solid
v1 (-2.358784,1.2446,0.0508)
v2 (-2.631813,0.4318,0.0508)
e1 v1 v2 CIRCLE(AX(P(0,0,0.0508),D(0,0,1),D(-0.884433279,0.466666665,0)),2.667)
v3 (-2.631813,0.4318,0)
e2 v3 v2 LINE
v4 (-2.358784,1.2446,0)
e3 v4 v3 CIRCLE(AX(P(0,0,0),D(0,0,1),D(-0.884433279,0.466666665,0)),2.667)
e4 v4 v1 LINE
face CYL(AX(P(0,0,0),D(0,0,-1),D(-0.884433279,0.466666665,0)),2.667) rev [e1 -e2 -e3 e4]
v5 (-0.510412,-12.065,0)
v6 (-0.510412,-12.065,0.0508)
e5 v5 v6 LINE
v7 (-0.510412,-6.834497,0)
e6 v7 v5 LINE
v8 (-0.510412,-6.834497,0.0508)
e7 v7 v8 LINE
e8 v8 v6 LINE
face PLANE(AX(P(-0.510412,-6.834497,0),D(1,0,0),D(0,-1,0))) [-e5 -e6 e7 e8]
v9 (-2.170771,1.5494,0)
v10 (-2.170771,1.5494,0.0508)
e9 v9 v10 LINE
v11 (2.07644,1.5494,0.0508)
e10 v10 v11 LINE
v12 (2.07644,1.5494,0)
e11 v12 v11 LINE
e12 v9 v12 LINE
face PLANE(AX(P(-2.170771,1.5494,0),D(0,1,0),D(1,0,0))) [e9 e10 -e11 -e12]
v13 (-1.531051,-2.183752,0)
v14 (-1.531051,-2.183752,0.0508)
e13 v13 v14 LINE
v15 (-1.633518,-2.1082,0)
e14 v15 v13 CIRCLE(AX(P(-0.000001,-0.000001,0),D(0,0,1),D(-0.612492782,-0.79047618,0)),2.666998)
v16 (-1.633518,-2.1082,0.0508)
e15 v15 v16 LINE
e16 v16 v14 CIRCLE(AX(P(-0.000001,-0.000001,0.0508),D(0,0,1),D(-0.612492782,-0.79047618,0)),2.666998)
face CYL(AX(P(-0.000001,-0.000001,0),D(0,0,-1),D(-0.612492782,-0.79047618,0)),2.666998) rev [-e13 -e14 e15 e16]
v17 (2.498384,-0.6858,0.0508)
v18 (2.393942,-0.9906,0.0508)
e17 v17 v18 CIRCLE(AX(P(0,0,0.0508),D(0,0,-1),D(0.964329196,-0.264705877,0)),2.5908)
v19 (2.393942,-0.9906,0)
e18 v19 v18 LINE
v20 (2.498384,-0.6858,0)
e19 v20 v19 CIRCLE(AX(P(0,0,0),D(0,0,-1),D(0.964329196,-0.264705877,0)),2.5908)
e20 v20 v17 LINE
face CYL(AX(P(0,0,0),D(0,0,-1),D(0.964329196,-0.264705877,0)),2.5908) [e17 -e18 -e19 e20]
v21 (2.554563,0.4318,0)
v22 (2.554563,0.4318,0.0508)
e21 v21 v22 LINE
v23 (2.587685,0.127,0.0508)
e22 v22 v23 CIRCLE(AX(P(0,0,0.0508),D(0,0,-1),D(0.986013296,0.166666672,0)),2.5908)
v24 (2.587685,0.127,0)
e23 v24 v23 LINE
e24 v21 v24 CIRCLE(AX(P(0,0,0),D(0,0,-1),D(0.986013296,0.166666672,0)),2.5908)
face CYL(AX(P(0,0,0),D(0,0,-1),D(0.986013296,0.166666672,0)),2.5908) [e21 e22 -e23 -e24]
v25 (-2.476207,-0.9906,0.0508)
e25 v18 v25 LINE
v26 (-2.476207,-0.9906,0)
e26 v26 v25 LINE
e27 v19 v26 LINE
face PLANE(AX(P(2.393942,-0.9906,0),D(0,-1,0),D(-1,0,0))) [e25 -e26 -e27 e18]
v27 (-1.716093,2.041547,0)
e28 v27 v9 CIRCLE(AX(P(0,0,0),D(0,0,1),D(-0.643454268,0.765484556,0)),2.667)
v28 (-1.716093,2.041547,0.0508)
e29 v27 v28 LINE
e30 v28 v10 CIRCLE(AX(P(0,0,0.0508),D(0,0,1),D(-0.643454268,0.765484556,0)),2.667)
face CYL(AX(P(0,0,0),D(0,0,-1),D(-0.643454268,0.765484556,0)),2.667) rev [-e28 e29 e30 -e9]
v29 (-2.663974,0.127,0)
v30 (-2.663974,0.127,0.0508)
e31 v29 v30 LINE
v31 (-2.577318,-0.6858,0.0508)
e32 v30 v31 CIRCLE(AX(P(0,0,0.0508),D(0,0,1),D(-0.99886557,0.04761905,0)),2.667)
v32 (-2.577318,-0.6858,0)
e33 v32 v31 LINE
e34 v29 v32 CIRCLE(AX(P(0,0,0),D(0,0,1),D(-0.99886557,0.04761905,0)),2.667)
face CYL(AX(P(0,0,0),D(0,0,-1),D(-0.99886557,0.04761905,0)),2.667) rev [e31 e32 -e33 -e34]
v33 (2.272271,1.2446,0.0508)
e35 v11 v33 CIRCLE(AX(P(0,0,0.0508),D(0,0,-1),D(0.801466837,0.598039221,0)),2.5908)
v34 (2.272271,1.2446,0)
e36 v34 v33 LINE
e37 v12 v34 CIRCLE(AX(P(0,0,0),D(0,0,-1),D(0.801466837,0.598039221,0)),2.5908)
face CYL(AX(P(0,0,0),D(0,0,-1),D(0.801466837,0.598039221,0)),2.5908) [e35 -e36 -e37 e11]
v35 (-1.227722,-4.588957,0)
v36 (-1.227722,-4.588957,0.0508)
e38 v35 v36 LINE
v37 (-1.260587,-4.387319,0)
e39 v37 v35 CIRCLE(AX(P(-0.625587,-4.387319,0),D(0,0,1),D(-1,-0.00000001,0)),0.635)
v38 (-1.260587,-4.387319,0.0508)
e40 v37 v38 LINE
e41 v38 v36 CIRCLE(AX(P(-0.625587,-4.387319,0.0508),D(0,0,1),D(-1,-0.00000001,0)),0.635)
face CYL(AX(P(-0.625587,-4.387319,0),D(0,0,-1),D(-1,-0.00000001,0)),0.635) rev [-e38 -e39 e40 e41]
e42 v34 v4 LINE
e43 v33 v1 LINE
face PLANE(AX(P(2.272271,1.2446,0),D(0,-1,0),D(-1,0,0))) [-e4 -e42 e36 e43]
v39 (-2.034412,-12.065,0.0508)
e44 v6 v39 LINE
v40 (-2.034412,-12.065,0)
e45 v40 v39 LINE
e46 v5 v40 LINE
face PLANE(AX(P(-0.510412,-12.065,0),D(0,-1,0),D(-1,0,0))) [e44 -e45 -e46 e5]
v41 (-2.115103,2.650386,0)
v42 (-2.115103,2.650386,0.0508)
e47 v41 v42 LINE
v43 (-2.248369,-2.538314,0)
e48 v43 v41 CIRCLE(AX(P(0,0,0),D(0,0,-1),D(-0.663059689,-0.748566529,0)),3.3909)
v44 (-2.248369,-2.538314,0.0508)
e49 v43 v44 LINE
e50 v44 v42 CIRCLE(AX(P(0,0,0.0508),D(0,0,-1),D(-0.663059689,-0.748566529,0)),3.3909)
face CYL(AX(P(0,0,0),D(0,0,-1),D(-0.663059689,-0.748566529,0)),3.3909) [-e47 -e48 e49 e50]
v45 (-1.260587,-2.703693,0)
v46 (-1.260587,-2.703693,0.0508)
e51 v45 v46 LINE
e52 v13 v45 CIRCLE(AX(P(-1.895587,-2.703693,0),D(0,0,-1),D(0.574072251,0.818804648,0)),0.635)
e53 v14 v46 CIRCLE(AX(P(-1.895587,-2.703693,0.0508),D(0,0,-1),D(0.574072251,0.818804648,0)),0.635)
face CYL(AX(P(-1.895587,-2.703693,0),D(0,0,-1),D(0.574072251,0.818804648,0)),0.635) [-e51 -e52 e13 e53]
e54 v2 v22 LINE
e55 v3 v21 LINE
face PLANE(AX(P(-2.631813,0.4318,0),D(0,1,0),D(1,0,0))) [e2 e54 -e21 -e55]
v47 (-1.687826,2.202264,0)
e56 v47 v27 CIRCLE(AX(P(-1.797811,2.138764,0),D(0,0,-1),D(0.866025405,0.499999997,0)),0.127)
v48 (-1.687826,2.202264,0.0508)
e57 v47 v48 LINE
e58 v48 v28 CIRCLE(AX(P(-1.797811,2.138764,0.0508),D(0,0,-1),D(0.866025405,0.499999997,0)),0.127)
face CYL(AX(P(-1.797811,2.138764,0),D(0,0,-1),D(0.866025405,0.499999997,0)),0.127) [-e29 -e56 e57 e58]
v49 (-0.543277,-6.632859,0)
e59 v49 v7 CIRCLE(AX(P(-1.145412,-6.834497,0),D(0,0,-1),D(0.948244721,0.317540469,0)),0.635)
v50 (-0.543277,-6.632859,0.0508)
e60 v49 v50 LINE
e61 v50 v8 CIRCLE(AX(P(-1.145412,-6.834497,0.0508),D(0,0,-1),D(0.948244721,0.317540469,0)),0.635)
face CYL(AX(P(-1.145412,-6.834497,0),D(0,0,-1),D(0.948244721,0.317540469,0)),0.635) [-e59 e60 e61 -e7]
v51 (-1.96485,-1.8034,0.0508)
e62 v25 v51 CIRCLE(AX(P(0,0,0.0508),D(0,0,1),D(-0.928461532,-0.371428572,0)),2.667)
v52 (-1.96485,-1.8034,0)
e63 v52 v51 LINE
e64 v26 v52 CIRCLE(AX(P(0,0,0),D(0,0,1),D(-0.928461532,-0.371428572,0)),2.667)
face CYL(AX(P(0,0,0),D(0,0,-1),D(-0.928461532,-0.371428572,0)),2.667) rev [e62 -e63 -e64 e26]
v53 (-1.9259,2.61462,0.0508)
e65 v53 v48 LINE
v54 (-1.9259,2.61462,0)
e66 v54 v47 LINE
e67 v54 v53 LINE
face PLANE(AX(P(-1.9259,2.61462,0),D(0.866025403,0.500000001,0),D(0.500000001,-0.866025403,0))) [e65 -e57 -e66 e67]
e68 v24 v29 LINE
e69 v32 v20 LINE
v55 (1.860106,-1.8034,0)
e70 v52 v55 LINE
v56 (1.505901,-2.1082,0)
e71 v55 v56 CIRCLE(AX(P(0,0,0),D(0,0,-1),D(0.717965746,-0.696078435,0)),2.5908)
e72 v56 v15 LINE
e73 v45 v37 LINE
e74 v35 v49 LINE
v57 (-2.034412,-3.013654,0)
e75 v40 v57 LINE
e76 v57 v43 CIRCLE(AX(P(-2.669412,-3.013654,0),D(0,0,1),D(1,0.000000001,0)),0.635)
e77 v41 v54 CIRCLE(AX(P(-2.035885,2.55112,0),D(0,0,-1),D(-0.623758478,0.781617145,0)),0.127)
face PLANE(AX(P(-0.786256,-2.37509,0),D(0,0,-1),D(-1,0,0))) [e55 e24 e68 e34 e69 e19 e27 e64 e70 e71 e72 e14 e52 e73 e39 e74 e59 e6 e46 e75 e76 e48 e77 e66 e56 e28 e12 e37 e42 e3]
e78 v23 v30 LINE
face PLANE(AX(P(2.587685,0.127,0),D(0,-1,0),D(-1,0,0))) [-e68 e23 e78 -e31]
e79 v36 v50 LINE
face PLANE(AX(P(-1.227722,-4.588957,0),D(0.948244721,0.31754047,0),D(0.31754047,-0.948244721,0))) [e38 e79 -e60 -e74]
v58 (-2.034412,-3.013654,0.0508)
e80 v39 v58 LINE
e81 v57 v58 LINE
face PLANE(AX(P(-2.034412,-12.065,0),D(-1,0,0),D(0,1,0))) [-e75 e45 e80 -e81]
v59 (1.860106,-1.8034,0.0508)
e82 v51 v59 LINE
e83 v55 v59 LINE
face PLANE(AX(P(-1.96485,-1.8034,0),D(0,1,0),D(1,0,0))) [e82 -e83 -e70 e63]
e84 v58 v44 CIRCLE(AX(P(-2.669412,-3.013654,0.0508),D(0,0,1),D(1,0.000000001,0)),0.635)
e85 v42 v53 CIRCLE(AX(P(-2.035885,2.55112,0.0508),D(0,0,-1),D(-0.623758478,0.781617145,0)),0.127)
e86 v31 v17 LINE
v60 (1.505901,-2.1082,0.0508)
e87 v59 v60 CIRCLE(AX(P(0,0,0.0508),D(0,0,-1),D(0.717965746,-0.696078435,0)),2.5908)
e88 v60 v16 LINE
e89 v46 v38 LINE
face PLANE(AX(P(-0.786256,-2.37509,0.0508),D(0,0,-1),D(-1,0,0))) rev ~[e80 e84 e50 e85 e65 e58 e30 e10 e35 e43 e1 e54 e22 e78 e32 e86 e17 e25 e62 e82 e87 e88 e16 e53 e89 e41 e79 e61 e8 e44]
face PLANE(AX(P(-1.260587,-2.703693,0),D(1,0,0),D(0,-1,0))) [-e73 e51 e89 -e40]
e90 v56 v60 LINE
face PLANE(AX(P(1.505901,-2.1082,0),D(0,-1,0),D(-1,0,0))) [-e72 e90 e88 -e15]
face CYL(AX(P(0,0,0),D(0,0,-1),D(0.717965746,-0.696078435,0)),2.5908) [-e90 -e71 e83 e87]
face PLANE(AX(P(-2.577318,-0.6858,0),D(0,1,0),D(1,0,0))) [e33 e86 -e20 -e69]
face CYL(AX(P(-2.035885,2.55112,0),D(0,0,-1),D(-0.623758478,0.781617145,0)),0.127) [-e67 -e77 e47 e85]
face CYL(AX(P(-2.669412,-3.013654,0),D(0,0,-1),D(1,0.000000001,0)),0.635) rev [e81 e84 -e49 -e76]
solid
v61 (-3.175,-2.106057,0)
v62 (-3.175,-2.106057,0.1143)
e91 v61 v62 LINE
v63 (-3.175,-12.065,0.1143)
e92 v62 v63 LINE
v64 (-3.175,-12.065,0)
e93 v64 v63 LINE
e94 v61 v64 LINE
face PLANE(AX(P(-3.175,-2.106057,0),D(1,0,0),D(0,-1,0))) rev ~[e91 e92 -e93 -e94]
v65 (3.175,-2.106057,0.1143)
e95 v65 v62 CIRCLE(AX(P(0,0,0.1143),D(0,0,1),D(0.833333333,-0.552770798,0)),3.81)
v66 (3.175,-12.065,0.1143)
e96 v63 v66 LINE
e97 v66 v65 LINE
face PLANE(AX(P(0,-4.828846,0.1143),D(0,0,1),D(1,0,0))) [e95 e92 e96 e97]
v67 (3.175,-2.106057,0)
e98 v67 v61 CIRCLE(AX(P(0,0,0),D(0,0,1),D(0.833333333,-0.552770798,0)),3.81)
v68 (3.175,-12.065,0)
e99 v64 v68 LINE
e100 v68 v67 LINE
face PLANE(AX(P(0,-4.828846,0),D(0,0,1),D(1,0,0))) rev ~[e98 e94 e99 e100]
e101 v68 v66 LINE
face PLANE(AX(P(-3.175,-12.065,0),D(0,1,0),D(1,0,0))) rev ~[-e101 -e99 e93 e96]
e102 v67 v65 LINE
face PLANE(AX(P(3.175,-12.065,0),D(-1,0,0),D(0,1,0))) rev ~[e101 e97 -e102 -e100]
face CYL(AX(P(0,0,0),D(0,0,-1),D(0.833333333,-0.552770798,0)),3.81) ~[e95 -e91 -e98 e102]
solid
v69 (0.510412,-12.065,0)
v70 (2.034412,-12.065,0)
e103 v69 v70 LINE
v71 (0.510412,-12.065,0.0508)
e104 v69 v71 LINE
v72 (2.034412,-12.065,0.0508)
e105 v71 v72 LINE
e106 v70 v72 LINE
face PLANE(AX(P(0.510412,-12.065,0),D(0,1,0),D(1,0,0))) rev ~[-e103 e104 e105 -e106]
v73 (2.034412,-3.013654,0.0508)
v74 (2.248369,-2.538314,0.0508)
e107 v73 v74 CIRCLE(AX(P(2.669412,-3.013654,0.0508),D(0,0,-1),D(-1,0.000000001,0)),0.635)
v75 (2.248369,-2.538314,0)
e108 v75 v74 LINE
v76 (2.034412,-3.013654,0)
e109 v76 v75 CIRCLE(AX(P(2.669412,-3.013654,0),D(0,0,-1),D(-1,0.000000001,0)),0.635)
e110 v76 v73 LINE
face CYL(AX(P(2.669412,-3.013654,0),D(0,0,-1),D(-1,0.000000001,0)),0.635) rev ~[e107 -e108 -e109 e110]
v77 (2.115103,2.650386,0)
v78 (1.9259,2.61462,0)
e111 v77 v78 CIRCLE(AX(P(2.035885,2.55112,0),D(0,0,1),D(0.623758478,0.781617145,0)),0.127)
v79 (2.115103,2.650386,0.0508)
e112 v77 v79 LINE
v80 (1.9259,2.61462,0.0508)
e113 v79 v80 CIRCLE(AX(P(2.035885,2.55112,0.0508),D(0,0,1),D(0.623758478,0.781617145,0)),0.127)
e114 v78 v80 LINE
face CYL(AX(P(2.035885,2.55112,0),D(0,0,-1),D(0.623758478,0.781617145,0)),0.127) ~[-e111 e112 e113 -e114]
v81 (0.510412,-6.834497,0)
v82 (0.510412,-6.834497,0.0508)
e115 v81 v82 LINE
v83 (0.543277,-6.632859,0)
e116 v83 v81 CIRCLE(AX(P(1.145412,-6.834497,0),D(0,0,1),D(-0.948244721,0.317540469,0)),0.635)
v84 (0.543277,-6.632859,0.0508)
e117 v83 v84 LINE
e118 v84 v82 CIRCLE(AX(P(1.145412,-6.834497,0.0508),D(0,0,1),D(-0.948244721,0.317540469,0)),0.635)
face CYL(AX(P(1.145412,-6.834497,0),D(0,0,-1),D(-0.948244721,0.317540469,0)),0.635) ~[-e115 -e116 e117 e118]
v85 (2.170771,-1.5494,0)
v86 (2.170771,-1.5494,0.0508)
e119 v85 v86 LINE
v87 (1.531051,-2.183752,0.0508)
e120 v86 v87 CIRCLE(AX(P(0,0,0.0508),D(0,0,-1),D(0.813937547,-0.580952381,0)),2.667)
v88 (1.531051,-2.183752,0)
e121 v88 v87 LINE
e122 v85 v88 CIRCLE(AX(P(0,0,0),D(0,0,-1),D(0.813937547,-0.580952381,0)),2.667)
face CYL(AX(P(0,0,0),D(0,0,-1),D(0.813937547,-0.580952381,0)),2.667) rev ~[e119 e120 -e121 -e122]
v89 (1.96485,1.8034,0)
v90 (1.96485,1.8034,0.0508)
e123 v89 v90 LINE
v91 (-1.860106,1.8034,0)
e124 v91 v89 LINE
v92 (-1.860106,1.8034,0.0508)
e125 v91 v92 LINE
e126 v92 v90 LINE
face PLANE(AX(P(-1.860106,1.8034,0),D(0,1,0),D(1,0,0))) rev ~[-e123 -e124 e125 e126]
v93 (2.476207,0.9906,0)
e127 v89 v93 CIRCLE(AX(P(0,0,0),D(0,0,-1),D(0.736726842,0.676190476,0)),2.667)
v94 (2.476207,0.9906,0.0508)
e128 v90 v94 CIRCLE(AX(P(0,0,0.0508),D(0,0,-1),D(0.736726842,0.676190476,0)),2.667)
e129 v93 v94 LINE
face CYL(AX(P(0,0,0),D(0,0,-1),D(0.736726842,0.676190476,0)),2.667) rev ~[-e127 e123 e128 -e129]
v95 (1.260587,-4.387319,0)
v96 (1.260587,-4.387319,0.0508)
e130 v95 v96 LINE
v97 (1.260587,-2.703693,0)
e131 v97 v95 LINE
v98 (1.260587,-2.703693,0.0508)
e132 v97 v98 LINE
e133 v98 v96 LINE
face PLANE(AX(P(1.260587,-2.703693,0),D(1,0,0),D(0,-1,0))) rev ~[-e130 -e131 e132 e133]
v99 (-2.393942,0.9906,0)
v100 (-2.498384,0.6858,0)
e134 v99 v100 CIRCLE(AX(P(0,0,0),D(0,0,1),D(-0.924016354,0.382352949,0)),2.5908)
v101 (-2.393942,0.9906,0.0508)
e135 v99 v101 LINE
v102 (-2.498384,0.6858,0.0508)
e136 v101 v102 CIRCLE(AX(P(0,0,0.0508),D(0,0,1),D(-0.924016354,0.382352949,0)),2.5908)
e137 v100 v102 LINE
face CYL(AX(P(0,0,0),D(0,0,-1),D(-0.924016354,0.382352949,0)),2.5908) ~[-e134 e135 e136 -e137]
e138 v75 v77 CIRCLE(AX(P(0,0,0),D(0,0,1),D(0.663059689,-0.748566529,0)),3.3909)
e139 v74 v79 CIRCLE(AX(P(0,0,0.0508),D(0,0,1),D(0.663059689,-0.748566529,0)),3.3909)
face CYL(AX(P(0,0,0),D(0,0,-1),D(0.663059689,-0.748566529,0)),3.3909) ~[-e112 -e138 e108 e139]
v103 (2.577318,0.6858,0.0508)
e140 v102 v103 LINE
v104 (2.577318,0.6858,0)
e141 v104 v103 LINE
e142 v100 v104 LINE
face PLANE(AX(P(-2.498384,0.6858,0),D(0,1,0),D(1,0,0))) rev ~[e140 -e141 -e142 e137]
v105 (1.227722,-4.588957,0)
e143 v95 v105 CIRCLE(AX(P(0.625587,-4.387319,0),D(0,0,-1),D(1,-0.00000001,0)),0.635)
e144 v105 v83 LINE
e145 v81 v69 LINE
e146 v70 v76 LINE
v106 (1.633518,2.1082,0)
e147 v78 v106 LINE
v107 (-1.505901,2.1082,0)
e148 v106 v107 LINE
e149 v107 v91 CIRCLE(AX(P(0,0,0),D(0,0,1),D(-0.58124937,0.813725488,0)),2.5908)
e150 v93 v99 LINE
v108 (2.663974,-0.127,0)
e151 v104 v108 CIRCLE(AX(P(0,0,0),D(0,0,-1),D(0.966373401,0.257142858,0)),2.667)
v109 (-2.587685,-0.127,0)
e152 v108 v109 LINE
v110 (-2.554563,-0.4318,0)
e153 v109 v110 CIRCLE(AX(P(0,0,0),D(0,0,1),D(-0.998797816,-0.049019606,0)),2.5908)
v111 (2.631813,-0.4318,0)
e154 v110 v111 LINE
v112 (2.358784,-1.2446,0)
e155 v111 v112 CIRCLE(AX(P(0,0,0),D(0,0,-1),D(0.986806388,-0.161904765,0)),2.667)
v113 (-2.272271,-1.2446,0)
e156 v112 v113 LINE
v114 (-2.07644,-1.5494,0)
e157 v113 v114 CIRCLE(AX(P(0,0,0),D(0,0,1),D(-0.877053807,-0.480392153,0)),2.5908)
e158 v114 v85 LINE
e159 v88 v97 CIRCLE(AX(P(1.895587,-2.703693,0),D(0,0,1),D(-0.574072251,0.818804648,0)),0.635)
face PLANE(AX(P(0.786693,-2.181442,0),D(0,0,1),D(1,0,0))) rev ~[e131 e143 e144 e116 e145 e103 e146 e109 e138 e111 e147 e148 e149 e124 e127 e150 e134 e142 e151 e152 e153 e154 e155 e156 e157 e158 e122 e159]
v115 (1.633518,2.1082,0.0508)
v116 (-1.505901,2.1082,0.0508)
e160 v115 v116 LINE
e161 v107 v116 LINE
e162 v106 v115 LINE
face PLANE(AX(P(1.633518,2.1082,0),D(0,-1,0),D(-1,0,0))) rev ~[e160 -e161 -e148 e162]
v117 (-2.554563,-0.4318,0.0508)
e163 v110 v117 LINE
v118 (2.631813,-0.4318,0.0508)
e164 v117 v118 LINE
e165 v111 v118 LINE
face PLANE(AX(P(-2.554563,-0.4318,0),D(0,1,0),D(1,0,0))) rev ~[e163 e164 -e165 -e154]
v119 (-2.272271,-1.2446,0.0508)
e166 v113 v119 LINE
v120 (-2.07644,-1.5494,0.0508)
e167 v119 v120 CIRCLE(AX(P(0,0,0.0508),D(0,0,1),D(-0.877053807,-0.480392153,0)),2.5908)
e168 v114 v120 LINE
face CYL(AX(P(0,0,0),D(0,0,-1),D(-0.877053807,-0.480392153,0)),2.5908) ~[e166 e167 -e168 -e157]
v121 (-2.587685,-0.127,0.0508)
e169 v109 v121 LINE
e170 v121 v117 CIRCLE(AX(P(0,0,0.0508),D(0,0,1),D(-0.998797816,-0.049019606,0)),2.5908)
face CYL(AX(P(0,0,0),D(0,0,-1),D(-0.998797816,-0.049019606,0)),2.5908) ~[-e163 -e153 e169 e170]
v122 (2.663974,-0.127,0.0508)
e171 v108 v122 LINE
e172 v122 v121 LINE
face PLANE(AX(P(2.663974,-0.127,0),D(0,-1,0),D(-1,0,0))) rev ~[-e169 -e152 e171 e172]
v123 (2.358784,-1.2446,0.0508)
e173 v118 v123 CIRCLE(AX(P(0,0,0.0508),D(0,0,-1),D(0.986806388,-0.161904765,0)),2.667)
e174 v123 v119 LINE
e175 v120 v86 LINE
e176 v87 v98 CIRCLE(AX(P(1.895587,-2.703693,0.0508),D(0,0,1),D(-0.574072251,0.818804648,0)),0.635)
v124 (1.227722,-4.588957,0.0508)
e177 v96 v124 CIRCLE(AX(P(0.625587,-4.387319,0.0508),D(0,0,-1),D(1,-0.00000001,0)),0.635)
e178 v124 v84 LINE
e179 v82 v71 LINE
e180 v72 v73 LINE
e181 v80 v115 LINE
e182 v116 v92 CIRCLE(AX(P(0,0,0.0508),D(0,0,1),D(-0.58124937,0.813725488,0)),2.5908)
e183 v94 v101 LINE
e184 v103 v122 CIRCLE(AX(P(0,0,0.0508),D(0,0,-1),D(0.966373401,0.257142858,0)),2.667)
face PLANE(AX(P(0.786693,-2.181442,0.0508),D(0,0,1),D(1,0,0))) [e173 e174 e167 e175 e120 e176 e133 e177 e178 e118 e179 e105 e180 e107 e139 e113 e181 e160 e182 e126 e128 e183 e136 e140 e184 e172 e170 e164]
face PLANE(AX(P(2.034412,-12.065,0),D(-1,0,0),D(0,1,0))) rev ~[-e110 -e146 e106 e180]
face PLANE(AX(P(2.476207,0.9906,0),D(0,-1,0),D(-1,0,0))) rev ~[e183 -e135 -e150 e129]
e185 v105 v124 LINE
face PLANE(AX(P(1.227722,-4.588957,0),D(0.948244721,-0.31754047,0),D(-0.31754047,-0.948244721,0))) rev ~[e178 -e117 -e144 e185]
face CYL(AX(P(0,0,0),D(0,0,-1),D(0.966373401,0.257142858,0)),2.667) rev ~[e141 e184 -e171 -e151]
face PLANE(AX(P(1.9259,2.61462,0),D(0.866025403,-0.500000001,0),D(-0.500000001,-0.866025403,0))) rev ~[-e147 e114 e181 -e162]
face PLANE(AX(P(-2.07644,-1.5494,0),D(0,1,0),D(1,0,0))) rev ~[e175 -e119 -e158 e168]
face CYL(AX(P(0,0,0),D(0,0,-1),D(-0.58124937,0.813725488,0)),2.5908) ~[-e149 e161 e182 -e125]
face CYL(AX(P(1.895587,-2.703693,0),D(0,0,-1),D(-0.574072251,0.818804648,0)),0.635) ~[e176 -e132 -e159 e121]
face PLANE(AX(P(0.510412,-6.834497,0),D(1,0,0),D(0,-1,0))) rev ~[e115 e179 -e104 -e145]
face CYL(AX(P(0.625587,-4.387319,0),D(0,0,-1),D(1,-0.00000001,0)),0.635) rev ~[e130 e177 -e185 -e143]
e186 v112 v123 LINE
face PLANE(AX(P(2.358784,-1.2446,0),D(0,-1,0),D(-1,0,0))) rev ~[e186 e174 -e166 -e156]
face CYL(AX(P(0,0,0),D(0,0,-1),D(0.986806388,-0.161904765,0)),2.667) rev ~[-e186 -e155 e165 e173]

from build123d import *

# Parameters (mm, degrees)
BOSS_EXTRUDE1_DEPTH   = 0.1143
BOSS_EXTRUDE3_DEPTH   = 0.0508
BOSS_EXTRUDE3_2_DEPTH = 0.0508


with BuildPart() as part:
    # Sketch1 → Boss-Extrude1 (new body)
    with BuildSketch(Plane.XY):
        with BuildLine():
            Line((-3.175, -2.106056742), (-3.175, -12.065))
            Line((-3.175, -12.065), (3.175, -12.065))
            Line((3.175, -12.065), (3.175, -2.106056742))
            ThreePointArc((3.175, -2.106056742), (0, 3.81), (-3.175, -2.106056742))
        make_face()
    extrude(amount=BOSS_EXTRUDE1_DEPTH)


with BuildPart() as body_2:
    # Sketch2 → Boss-Extrude3 (new body)
    with BuildSketch(Plane(origin=(0, 0, 0), x_dir=(-1, 0, 0), z_dir=(0, 0, -1))):
        with BuildLine():
            Line((-2.034412002, -12.065), (-2.034412002, -3.013653991))
            ThreePointArc((-2.034412002, -3.013653991), (-2.090366562, -2.753017504), (-2.248369099, -2.538314245))
            ThreePointArc((-2.248369099, -2.538314245), (-3.38978212, 0.087063113), (-2.115102611, 2.650385586))
            ThreePointArc((-2.115102611, 2.650385586), (-2.012295955, 2.675910206), (-1.925900059, 2.614620208))
            Line((-1.925900059, 2.614620208), (-1.633518215, 2.1082))
            Line((-1.633518215, 2.1082), (1.50590086, 2.1082))
            ThreePointArc((1.50590086, 2.1082), (1.689889268, 1.963802154), (1.860105664, 1.8034))
            Line((1.860105664, 1.8034), (-1.964850488, 1.8034))
            ThreePointArc((-1.964850488, 1.8034), (-2.257411937, 1.420204333), (-2.476206906, 0.9906))
            Line((-2.476206906, 0.9906), (2.393941578, 0.9906))
            ThreePointArc((2.393941578, 0.9906), (2.450905617, 0.83982516), (2.498384078, 0.6858))
            Line((2.498384078, 0.6858), (-2.577317862, 0.6858))
            ThreePointArc((-2.577317862, 0.6858), (-2.651970456, 0.282739637), (-2.663974474, -0.127))
            Line((-2.663974474, -0.127), (2.587685383, -0.127))
            ThreePointArc((2.587685383, -0.127), (2.575637011, -0.279890387), (2.55456325, -0.4318))
            Line((2.55456325, -0.4318), (-2.631812638, -0.4318))
            ThreePointArc((-2.631812638, -0.4318), (-2.528175931, -0.849244052), (-2.358783551, -1.2446))
            Line((-2.358783551, -1.2446), (2.272270996, -1.2446))
            ThreePointArc((2.272270996, -1.2446), (2.179689938, -1.400427226), (2.07644029, -1.5494))
            Line((2.07644029, -1.5494), (-2.170771439, -1.5494))
            ThreePointArc((-2.170771439, -1.5494), (-1.877890411, -1.893783674), (-1.531050697, -2.183751992))
            ThreePointArc((-1.531050697, -2.183751992), (-1.332245968, -2.410653085), (-1.260586578, -2.703692942))
            Line((-1.260586578, -2.703692942), (-1.260586578, -3.147876155))
            Line((-1.260586578, -3.147876155), (-1.260586578, -4.387318627))
            ThreePointArc((-1.260586578, -4.387318627), (-1.252316574, -4.489468083), (-1.227721975, -4.588956826))
            Line((-1.227721975, -4.588956826), (-0.543276604, -6.632859168))
            ThreePointArc((-0.543276604, -6.632859168), (-0.518682005, -6.732347911), (-0.510412002, -6.834497367))
            Line((-0.510412002, -6.834497367), (-0.510412002, -12.065))
            Line((-0.510412002, -12.065), (-2.034412002, -12.065))
        make_face()
    extrude(amount=-BOSS_EXTRUDE3_DEPTH)


with BuildPart() as body_3:
    # Sketch2 → Boss-Extrude3 2 (new body)
    with BuildSketch(Plane(origin=(0, 0, 0), x_dir=(-1, 0, 0), z_dir=(0, 0, -1))):
        with BuildLine():
            Line((0.510412002, -12.065), (2.034412002, -12.065))
            Line((2.034412002, -12.065), (2.034412002, -3.013653991))
            ThreePointArc((2.034412002, -3.013653991), (2.090366562, -2.753017504), (2.248369099, -2.538314245))
            ThreePointArc((2.248369099, -2.538314245), (3.38978212, 0.087063113), (2.115102611, 2.650385586))
            ThreePointArc((2.115102611, 2.650385586), (2.012295955, 2.675910206), (1.925900059, 2.614620208))
            Line((1.925900059, 2.614620208), (1.687826002, 2.202263846))
            ThreePointArc((1.687826002, 2.202263846), (1.672731056, 2.116764971), (1.716092536, 2.041547307))
            ThreePointArc((1.716092536, 2.041547307), (1.958948732, 1.809809069), (2.170771439, 1.5494))
            Line((2.170771439, 1.5494), (-2.07644029, 1.5494))
            ThreePointArc((-2.07644029, 1.5494), (-2.179689938, 1.400427226), (-2.272270996, 1.2446))
            Line((-2.272270996, 1.2446), (2.358783551, 1.2446))
            ThreePointArc((2.358783551, 1.2446), (2.528175931, 0.849244052), (2.631812638, 0.4318))
            Line((2.631812638, 0.4318), (-2.55456325, 0.4318))
            ThreePointArc((-2.55456325, 0.4318), (-2.575637011, 0.279890387), (-2.587685383, 0.127))
            Line((-2.587685383, 0.127), (2.663974474, 0.127))
            ThreePointArc((2.663974474, 0.127), (2.651970456, -0.282739637), (2.577317862, -0.6858))
            Line((2.577317862, -0.6858), (-2.498384078, -0.6858))
            ThreePointArc((-2.498384078, -0.6858), (-2.450905617, -0.83982516), (-2.393941578, -0.9906))
            Line((-2.393941578, -0.9906), (2.476206906, -0.9906))
            ThreePointArc((2.476206906, -0.9906), (2.257411937, -1.420204333), (1.964850488, -1.8034))
            Line((1.964850488, -1.8034), (-1.860105664, -1.8034))
            ThreePointArc((-1.860105664, -1.8034), (-1.689889268, -1.963802154), (-1.50590086, -2.1082))
            Line((-1.50590086, -2.1082), (1.633518215, -2.1082))
            ThreePointArc((1.633518215, -2.1082), (1.582735331, -2.146587495), (1.531050697, -2.183751992))
            ThreePointArc((1.531050697, -2.183751992), (1.332245968, -2.410653085), (1.260586578, -2.703692942))
            Line((1.260586578, -2.703692942), (1.260586578, -3.147876155))
            Line((1.260586578, -3.147876155), (1.260586578, -4.387318627))
            ThreePointArc((1.260586578, -4.387318627), (1.252316574, -4.489468083), (1.227721975, -4.588956826))
            Line((1.227721975, -4.588956826), (0.543276604, -6.632859168))
            ThreePointArc((0.543276604, -6.632859168), (0.518682005, -6.732347911), (0.510412002, -6.834497367))
            Line((0.510412002, -6.834497367), (0.510412002, -12.065))
        make_face()
    extrude(amount=-BOSS_EXTRUDE3_2_DEPTH)


solid = Compound([part.part, body_2.part, body_3.part])
